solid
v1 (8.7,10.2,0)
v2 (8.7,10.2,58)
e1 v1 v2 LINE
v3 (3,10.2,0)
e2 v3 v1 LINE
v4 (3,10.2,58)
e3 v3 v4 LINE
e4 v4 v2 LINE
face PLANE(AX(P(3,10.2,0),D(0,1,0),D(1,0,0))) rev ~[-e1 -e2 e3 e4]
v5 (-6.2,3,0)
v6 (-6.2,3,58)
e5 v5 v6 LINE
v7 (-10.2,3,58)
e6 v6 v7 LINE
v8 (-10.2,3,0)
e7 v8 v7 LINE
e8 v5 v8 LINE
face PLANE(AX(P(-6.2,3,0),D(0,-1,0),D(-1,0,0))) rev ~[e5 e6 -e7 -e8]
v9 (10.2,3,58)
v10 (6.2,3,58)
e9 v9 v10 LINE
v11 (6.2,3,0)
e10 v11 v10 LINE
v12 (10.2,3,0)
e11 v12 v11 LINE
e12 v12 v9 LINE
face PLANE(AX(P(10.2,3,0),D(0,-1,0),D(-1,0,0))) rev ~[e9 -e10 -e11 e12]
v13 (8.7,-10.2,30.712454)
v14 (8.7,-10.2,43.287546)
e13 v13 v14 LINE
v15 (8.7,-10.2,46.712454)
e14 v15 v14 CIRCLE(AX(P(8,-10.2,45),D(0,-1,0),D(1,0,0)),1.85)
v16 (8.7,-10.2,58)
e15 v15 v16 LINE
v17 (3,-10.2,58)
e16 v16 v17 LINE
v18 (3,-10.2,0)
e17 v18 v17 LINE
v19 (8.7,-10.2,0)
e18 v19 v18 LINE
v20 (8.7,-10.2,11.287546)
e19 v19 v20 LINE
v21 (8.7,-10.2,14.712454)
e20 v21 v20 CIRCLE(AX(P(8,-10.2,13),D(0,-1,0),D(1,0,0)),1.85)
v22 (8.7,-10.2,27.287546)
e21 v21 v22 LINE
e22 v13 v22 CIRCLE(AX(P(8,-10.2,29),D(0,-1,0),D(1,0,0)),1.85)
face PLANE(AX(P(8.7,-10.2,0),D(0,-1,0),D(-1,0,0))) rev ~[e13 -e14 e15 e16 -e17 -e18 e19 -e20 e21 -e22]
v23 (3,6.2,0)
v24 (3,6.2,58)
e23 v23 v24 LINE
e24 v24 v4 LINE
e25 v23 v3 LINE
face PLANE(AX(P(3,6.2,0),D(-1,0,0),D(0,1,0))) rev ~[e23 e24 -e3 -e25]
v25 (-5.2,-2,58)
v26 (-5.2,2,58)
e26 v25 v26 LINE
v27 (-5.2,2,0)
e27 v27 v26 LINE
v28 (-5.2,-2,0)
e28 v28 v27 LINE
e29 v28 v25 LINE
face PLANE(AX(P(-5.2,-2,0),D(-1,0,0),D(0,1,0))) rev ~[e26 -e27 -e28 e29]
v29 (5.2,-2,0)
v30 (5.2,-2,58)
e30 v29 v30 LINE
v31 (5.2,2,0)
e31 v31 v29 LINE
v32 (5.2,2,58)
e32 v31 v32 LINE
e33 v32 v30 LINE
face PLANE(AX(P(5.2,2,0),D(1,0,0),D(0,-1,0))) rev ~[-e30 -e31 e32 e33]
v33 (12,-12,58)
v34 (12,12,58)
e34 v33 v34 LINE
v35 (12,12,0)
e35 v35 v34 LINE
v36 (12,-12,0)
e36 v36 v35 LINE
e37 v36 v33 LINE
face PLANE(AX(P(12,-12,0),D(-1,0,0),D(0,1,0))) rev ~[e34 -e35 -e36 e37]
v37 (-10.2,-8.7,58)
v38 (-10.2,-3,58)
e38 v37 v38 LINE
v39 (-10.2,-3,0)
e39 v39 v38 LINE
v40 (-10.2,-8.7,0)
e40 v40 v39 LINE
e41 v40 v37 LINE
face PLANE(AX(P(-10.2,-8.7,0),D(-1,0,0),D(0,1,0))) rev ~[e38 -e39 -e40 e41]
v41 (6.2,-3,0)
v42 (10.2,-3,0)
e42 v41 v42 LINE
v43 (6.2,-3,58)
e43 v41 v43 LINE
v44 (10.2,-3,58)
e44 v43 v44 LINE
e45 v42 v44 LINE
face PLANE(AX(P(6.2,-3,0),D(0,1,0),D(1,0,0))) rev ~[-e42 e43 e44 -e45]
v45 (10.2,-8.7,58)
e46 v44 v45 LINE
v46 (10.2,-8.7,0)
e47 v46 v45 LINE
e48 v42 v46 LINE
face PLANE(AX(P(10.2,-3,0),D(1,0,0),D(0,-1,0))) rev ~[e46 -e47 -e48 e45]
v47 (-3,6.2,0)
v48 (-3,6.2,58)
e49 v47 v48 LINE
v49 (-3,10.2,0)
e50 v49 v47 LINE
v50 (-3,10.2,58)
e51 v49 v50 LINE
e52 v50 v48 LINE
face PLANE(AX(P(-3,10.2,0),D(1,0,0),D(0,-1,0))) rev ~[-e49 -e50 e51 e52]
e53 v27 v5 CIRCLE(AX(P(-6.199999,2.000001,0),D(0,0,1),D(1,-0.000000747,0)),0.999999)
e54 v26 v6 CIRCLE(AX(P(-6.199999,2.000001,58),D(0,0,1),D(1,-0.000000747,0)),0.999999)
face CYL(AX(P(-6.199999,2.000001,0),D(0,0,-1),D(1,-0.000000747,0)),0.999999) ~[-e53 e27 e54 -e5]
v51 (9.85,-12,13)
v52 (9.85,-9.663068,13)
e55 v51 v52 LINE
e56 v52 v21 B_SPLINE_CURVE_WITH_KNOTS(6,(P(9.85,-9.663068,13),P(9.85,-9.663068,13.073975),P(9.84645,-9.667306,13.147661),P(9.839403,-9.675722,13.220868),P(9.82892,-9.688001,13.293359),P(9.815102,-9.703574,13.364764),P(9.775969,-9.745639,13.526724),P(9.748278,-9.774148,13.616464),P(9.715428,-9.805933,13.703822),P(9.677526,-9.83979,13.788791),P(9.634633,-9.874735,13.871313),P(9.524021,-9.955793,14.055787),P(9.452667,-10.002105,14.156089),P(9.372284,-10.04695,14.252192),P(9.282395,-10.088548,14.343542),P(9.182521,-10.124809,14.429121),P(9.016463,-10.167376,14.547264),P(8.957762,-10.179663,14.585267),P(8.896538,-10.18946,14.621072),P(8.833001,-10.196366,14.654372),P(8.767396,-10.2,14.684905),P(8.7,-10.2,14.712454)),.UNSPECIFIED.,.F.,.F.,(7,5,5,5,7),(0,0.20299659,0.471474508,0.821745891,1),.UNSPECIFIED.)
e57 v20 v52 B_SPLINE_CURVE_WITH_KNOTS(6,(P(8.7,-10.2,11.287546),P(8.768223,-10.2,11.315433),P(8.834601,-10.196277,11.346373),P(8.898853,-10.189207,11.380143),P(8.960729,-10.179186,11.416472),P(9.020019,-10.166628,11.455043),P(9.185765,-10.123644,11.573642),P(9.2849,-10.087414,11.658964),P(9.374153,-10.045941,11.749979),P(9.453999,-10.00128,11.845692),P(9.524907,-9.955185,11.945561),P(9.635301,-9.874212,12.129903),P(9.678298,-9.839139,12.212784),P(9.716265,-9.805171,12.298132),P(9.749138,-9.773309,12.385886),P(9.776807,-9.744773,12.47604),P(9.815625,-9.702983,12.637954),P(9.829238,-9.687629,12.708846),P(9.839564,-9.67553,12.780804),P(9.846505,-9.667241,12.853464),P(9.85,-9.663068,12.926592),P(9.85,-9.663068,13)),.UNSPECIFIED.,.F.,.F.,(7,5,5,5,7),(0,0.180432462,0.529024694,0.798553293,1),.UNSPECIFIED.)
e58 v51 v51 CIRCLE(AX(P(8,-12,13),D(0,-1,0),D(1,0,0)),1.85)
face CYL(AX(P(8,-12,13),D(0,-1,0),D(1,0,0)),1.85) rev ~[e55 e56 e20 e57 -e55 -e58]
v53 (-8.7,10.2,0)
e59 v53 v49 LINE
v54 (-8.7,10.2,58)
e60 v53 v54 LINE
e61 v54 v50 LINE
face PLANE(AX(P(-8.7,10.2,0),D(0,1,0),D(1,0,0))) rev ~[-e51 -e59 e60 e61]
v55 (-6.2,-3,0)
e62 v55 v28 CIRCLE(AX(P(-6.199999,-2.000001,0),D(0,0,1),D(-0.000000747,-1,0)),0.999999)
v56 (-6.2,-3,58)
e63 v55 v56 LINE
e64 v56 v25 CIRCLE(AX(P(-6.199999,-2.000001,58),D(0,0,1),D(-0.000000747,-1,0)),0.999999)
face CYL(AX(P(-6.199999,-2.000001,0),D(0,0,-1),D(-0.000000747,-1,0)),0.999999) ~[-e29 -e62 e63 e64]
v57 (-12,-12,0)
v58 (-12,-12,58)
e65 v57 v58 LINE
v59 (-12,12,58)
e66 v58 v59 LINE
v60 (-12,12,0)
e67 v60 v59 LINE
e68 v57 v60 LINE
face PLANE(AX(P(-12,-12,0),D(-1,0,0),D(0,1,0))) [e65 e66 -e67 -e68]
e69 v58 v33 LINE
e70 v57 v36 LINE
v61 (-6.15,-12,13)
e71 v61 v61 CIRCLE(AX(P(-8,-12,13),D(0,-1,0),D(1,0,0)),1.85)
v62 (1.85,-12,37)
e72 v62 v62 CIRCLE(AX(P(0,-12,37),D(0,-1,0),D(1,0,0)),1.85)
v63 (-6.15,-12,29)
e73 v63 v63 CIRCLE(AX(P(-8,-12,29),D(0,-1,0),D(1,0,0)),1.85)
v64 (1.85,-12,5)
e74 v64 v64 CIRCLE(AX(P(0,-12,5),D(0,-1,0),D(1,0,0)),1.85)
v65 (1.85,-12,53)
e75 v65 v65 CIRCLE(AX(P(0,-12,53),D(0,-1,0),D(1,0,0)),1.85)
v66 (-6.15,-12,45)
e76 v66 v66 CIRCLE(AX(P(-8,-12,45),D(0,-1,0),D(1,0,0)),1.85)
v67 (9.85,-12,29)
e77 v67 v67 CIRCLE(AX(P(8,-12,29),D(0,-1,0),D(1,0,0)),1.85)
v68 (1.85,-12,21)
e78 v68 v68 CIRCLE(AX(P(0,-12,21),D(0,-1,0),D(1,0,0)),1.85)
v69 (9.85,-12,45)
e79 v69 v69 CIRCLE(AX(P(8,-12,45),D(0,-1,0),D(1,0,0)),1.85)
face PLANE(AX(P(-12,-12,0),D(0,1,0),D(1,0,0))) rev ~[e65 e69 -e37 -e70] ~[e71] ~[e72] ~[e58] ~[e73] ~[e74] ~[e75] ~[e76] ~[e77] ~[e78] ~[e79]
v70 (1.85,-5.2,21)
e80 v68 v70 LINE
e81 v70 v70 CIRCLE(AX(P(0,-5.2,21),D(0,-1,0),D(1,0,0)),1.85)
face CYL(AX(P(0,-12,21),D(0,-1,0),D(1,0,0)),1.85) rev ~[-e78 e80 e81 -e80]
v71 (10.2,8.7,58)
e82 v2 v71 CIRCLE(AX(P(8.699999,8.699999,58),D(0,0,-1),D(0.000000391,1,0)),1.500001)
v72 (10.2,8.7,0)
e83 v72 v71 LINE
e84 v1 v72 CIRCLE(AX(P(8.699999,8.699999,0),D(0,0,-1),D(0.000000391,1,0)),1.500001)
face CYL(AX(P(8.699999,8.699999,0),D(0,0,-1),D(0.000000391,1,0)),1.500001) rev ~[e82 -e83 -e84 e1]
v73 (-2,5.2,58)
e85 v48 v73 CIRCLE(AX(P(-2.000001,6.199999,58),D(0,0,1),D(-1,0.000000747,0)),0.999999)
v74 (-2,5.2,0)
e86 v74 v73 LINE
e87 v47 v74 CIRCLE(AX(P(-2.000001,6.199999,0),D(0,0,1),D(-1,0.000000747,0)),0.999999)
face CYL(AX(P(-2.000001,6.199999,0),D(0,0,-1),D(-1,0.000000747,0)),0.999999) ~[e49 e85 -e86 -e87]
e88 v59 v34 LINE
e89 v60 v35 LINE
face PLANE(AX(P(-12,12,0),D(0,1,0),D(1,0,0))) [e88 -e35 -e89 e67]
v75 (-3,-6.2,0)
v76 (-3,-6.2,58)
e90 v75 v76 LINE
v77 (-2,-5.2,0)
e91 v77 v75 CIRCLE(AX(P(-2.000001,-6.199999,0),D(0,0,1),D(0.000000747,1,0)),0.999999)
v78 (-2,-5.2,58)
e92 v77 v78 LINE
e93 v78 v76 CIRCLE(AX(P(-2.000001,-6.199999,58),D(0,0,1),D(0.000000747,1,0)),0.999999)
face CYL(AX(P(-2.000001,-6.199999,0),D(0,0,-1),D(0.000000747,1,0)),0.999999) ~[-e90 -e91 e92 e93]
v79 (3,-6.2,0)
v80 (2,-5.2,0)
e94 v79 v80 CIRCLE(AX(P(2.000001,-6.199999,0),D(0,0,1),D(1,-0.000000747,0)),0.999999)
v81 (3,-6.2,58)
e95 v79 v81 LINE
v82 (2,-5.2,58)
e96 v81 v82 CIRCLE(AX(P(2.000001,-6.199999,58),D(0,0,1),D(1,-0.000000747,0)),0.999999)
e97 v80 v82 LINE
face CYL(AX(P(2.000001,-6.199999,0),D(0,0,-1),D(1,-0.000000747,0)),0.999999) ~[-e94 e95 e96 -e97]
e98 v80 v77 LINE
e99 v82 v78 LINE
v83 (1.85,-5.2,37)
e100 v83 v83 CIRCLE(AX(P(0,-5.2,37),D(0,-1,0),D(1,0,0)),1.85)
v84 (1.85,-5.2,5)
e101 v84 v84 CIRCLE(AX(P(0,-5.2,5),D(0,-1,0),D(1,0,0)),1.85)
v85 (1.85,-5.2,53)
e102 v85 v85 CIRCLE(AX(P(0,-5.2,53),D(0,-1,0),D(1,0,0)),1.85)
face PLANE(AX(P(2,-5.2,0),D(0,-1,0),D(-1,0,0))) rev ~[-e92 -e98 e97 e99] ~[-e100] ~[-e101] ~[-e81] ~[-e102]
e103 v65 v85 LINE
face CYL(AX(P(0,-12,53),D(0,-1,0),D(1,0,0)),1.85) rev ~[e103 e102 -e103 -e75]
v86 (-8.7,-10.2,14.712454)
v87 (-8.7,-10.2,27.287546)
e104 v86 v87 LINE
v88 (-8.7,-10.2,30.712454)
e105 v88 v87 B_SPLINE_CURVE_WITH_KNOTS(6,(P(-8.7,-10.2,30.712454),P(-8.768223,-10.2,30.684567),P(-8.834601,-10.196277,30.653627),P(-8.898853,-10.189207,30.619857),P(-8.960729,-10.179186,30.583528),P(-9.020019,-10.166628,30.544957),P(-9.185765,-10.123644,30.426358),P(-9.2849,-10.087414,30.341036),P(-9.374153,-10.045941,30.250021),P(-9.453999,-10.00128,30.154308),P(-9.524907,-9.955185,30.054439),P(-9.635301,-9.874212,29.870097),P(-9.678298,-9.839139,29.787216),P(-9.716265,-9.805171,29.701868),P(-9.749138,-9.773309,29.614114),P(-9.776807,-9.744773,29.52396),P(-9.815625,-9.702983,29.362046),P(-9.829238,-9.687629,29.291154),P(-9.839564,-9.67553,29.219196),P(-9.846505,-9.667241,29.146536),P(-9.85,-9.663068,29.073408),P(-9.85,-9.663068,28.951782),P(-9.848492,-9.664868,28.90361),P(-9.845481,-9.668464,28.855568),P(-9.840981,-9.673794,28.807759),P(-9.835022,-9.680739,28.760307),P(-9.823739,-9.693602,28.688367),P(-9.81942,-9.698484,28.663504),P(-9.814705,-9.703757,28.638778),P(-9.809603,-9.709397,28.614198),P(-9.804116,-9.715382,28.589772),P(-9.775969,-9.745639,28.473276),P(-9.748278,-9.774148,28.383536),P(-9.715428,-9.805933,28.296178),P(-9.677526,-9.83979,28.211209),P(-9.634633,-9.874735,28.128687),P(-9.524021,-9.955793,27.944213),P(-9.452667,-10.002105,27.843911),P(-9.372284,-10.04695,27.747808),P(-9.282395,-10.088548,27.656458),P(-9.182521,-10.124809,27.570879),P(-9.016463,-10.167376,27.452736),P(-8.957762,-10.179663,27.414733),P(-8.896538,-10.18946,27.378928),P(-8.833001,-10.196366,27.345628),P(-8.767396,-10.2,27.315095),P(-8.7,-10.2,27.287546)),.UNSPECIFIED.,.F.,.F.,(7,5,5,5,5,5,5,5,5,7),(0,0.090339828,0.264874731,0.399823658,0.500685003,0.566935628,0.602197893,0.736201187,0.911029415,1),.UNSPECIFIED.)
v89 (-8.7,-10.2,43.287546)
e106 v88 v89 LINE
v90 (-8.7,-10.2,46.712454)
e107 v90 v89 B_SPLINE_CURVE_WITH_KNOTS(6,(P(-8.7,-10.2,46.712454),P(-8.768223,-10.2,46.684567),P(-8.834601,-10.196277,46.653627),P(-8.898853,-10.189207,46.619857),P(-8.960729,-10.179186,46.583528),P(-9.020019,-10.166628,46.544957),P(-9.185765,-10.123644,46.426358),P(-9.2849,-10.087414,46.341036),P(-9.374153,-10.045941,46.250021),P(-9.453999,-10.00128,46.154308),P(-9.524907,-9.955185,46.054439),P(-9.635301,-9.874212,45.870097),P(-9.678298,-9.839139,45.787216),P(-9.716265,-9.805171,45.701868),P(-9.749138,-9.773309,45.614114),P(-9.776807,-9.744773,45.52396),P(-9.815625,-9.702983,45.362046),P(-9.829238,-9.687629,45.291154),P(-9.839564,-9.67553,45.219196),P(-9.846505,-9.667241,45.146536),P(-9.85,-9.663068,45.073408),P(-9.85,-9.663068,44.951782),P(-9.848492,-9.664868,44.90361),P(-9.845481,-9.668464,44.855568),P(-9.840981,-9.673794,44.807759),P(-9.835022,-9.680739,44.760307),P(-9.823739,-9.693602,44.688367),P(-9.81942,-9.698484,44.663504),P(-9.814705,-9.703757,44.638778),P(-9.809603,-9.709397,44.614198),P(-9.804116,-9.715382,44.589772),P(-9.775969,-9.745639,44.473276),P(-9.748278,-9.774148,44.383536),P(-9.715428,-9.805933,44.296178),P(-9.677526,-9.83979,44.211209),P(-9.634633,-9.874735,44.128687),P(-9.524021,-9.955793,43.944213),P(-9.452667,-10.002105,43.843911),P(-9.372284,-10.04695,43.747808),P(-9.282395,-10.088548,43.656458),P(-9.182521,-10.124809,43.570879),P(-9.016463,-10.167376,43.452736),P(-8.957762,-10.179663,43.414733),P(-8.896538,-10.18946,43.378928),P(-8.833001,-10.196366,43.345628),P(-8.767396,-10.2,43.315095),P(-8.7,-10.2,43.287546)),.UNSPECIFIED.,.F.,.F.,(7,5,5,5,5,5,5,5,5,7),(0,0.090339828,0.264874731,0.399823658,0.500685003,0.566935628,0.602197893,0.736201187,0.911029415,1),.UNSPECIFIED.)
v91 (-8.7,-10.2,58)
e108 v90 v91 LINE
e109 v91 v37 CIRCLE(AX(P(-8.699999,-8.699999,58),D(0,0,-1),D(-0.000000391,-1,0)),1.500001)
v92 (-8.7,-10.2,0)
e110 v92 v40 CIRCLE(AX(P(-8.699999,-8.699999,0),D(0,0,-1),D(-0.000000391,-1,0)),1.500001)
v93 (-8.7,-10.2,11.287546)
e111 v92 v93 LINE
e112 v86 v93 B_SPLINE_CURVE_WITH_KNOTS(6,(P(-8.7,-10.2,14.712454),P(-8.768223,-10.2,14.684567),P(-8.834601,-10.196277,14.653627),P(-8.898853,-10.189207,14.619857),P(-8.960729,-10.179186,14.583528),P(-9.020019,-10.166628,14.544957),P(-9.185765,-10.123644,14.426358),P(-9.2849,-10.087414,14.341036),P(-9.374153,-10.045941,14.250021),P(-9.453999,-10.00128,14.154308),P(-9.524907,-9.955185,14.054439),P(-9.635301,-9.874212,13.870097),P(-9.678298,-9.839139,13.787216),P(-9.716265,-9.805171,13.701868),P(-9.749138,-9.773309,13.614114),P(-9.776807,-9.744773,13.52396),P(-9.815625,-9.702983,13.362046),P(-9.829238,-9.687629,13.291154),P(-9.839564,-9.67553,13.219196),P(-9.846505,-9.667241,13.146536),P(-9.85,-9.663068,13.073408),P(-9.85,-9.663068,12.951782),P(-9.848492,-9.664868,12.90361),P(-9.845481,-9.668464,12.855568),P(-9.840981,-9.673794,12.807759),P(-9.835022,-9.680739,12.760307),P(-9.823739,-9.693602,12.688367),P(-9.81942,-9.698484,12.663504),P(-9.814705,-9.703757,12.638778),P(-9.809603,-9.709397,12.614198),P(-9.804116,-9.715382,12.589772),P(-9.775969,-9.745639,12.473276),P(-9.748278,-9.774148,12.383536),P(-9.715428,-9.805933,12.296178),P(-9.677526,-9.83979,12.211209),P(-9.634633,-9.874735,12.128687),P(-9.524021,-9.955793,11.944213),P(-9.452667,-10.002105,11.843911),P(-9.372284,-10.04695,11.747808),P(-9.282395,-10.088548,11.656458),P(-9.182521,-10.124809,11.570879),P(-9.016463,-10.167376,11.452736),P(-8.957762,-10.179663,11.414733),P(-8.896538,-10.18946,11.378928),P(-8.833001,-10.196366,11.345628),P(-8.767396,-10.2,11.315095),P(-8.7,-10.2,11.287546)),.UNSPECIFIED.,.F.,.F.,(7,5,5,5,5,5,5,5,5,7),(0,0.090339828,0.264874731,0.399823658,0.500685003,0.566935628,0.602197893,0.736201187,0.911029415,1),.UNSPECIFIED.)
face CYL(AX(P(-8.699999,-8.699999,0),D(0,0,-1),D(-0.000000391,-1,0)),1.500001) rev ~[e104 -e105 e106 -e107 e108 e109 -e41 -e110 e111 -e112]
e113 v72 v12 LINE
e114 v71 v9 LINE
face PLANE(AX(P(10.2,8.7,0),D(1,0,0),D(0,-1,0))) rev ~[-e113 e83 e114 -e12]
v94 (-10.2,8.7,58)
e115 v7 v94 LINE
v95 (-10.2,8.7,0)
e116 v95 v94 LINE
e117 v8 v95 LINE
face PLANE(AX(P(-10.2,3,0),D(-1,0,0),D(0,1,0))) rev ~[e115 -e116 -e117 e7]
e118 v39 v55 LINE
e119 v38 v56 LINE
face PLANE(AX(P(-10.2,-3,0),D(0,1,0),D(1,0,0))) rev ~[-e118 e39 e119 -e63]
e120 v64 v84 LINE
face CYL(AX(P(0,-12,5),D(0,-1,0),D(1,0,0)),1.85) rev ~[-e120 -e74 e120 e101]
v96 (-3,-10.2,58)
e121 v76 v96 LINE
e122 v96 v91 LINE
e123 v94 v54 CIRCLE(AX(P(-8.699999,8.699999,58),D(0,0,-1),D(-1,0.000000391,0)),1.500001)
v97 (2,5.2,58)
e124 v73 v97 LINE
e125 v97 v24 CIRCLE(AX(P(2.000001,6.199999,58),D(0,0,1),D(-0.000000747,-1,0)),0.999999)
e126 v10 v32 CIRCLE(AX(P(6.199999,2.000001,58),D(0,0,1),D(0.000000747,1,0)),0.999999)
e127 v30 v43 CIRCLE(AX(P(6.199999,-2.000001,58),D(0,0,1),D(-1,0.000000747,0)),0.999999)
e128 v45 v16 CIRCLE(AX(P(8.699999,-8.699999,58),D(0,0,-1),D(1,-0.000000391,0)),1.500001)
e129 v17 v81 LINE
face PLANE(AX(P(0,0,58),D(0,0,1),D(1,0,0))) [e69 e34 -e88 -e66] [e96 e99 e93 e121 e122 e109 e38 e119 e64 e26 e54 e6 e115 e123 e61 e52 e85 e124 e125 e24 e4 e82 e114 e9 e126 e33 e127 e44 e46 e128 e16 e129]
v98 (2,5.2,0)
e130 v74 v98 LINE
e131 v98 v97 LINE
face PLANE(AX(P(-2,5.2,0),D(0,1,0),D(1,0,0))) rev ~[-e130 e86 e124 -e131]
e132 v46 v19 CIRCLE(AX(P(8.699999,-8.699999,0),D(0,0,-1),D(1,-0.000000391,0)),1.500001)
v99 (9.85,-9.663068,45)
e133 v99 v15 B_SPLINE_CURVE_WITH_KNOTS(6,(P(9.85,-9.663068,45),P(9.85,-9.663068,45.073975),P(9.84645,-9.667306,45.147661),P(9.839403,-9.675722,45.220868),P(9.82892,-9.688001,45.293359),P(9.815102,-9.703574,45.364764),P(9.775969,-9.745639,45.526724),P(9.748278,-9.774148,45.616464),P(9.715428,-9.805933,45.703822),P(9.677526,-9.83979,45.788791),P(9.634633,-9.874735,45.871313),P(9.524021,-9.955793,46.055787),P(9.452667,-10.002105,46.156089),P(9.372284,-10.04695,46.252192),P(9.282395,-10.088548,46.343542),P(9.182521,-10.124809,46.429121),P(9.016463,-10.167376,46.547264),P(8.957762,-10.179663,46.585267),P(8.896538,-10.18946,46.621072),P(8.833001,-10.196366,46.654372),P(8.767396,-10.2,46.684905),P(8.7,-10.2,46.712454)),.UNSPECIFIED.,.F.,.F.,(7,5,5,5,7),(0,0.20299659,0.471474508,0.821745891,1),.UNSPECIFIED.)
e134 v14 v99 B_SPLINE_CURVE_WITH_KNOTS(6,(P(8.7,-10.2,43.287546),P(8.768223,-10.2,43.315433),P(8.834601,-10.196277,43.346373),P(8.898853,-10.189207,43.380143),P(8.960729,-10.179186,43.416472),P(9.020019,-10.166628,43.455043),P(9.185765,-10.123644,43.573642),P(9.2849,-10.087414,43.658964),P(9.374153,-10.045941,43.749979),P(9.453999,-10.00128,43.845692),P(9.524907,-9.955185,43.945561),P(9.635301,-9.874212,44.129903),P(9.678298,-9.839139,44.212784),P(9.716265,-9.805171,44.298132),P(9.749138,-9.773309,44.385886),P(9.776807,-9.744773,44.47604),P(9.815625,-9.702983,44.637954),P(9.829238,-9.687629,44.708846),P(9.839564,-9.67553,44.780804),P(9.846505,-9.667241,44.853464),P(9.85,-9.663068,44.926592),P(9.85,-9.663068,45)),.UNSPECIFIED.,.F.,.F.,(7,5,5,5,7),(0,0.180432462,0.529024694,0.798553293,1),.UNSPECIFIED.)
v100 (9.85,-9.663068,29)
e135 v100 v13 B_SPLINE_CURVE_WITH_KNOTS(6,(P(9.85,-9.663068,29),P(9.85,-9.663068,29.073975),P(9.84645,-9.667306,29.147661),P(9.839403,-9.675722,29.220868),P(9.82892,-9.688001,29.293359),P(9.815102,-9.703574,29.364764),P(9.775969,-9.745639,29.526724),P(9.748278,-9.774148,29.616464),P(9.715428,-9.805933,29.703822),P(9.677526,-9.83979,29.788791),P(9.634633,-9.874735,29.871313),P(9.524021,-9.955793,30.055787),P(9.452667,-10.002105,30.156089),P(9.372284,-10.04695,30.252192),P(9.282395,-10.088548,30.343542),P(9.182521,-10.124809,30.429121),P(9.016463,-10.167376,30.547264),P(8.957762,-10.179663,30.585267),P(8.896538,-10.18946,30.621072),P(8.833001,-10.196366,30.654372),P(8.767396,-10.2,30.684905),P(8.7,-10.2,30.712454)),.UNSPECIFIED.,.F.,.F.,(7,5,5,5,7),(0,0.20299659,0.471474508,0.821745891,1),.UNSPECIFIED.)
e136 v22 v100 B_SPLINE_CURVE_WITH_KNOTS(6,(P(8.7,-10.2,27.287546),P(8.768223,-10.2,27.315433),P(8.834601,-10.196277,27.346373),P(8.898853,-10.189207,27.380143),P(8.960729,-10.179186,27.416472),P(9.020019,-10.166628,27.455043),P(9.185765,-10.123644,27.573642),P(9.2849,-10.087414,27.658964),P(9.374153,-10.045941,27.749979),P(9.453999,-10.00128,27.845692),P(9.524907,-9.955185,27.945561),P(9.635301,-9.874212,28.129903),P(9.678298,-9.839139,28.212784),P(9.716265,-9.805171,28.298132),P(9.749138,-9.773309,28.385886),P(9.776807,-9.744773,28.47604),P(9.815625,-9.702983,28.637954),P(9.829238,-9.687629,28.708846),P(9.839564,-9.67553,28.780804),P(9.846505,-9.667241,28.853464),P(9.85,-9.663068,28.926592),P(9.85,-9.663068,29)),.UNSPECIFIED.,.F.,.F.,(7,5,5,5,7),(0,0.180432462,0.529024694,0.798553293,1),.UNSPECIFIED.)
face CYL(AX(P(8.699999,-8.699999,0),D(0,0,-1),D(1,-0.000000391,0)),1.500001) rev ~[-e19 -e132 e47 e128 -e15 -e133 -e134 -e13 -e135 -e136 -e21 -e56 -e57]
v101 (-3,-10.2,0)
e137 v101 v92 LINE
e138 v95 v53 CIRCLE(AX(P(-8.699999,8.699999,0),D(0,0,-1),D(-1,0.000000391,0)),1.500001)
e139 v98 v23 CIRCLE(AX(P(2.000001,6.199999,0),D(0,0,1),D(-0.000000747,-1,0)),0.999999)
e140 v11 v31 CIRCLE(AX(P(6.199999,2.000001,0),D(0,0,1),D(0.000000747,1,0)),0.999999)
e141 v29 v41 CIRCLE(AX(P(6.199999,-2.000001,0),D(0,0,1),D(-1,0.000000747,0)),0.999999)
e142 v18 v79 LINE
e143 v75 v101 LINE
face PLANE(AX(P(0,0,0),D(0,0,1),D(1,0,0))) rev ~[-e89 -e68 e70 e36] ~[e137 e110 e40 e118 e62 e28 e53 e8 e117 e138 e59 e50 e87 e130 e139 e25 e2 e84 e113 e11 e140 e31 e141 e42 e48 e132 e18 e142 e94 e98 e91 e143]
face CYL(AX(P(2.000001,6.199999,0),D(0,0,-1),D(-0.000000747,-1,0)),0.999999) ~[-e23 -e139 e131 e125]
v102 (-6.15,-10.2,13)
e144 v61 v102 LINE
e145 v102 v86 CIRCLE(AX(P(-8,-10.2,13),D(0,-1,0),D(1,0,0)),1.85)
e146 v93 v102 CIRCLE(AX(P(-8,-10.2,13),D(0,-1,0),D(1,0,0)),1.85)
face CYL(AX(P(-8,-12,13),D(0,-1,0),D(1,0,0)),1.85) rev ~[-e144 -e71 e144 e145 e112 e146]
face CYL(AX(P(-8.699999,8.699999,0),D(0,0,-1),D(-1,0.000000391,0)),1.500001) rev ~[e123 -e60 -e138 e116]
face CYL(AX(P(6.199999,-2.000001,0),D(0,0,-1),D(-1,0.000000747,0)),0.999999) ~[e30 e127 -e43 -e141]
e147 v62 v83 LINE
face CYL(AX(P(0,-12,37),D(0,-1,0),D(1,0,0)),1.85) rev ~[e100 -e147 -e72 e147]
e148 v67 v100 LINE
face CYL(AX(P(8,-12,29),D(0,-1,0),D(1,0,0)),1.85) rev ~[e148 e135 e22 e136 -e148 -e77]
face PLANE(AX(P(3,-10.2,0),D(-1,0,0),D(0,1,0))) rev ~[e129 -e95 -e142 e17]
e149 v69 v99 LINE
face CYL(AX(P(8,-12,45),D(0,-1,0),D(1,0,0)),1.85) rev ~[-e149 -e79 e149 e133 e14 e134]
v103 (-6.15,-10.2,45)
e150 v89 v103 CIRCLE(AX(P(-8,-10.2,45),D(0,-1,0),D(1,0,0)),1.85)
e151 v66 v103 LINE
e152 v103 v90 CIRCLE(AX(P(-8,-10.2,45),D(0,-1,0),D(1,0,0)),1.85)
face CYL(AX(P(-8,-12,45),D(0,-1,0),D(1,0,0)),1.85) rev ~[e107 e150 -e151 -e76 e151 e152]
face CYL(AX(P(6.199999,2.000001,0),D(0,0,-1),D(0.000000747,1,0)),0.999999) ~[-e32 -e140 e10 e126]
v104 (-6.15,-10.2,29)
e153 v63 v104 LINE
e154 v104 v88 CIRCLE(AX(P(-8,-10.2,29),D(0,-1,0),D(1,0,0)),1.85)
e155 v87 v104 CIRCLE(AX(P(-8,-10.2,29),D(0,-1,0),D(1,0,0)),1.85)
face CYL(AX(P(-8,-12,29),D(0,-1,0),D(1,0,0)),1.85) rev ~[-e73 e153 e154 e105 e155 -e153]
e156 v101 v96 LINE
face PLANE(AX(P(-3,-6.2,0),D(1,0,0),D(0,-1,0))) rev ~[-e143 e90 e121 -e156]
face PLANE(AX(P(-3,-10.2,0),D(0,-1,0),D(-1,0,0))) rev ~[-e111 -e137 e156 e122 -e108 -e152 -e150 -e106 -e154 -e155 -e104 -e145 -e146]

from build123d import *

# Parameters (mm, degrees)
F0_W     = 24
F0_H     = 24
F1_DEPTH = 58
F2_R     = 1.85
F3_DEPTH = 7.5


with BuildPart() as f1:
    # F0 (on Top) → F1 (new body)
    with BuildSketch(Plane.XY):
        Rectangle(F0_W, F0_H)
        with BuildLine():
            ThreePointArc((-8.7, -10.2), (-9.76066, -9.76066), (-10.2, -8.7))
            Line((-10.2, -8.7), (-10.2, -3))
            Line((-10.2, -3), (-6.2, -3))
            ThreePointArc((-6.2, -3), (-5.492893, -2.707107), (-5.2, -2))
            Line((-5.2, -2), (-5.2, 2))
            ThreePointArc((-5.2, 2), (-5.492893, 2.707107), (-6.2, 3))
            Line((-6.2, 3), (-10.2, 3))
            Line((-10.2, 3), (-10.2, 8.7))
            ThreePointArc((-10.2, 8.7), (-9.76066, 9.76066), (-8.7, 10.2))
            Line((-8.7, 10.2), (-3, 10.2))
            Line((-3, 10.2), (-3, 6.2))
            ThreePointArc((-3, 6.2), (-2.707107, 5.492893), (-2, 5.2))
            Line((-2, 5.2), (2, 5.2))
            ThreePointArc((2, 5.2), (2.707107, 5.492893), (3, 6.2))
            Line((3, 6.2), (3, 10.2))
            Line((3, 10.2), (8.7, 10.2))
            ThreePointArc((8.7, 10.2), (9.76066, 9.76066), (10.2, 8.7))
            Line((10.2, 8.7), (10.2, 3))
            Line((10.2, 3), (6.2, 3))
            ThreePointArc((6.2, 3), (5.492893, 2.707107), (5.2, 2))
            Line((5.2, 2), (5.2, -2))
            ThreePointArc((5.2, -2), (5.492893, -2.707107), (6.2, -3))
            Line((6.2, -3), (10.2, -3))
            Line((10.2, -3), (10.2, -8.7))
            ThreePointArc((10.2, -8.7), (9.76066, -9.76066), (8.7, -10.2))
            Line((8.7, -10.2), (3, -10.2))
            Line((3, -10.2), (3, -6.2))
            ThreePointArc((3, -6.2), (2.707107, -5.492893), (2, -5.2))
            Line((2, -5.2), (-2, -5.2))
            ThreePointArc((-2, -5.2), (-2.707107, -5.492893), (-3, -6.2))
            Line((-3, -6.2), (-3, -10.2))
            Line((-3, -10.2), (-8.7, -10.2))
        make_face(mode=Mode.SUBTRACT)
    extrude(amount=F1_DEPTH)

    # F2 (on face) → F3 (cut)
    with BuildSketch(Plane.XZ.offset(12)):
        with Locations((0, 53)):
            Circle(F2_R)
        with Locations((8, 45)):
            Circle(F2_R)
        with Locations((-8, 45)):
            Circle(F2_R)
        with Locations((0, 37)):
            Circle(F2_R)
        with Locations((-8, 29)):
            Circle(F2_R)
        with Locations((0, 21)):
            Circle(F2_R)
        with Locations((8, 29)):
            Circle(F2_R)
        with Locations((8, 13)):
            Circle(F2_R)
        with Locations((-8, 13)):
            Circle(F2_R)
        with Locations((0, 5)):
            Circle(F2_R)
    extrude(amount=-F3_DEPTH, mode=Mode.SUBTRACT)


solid = f1.part
